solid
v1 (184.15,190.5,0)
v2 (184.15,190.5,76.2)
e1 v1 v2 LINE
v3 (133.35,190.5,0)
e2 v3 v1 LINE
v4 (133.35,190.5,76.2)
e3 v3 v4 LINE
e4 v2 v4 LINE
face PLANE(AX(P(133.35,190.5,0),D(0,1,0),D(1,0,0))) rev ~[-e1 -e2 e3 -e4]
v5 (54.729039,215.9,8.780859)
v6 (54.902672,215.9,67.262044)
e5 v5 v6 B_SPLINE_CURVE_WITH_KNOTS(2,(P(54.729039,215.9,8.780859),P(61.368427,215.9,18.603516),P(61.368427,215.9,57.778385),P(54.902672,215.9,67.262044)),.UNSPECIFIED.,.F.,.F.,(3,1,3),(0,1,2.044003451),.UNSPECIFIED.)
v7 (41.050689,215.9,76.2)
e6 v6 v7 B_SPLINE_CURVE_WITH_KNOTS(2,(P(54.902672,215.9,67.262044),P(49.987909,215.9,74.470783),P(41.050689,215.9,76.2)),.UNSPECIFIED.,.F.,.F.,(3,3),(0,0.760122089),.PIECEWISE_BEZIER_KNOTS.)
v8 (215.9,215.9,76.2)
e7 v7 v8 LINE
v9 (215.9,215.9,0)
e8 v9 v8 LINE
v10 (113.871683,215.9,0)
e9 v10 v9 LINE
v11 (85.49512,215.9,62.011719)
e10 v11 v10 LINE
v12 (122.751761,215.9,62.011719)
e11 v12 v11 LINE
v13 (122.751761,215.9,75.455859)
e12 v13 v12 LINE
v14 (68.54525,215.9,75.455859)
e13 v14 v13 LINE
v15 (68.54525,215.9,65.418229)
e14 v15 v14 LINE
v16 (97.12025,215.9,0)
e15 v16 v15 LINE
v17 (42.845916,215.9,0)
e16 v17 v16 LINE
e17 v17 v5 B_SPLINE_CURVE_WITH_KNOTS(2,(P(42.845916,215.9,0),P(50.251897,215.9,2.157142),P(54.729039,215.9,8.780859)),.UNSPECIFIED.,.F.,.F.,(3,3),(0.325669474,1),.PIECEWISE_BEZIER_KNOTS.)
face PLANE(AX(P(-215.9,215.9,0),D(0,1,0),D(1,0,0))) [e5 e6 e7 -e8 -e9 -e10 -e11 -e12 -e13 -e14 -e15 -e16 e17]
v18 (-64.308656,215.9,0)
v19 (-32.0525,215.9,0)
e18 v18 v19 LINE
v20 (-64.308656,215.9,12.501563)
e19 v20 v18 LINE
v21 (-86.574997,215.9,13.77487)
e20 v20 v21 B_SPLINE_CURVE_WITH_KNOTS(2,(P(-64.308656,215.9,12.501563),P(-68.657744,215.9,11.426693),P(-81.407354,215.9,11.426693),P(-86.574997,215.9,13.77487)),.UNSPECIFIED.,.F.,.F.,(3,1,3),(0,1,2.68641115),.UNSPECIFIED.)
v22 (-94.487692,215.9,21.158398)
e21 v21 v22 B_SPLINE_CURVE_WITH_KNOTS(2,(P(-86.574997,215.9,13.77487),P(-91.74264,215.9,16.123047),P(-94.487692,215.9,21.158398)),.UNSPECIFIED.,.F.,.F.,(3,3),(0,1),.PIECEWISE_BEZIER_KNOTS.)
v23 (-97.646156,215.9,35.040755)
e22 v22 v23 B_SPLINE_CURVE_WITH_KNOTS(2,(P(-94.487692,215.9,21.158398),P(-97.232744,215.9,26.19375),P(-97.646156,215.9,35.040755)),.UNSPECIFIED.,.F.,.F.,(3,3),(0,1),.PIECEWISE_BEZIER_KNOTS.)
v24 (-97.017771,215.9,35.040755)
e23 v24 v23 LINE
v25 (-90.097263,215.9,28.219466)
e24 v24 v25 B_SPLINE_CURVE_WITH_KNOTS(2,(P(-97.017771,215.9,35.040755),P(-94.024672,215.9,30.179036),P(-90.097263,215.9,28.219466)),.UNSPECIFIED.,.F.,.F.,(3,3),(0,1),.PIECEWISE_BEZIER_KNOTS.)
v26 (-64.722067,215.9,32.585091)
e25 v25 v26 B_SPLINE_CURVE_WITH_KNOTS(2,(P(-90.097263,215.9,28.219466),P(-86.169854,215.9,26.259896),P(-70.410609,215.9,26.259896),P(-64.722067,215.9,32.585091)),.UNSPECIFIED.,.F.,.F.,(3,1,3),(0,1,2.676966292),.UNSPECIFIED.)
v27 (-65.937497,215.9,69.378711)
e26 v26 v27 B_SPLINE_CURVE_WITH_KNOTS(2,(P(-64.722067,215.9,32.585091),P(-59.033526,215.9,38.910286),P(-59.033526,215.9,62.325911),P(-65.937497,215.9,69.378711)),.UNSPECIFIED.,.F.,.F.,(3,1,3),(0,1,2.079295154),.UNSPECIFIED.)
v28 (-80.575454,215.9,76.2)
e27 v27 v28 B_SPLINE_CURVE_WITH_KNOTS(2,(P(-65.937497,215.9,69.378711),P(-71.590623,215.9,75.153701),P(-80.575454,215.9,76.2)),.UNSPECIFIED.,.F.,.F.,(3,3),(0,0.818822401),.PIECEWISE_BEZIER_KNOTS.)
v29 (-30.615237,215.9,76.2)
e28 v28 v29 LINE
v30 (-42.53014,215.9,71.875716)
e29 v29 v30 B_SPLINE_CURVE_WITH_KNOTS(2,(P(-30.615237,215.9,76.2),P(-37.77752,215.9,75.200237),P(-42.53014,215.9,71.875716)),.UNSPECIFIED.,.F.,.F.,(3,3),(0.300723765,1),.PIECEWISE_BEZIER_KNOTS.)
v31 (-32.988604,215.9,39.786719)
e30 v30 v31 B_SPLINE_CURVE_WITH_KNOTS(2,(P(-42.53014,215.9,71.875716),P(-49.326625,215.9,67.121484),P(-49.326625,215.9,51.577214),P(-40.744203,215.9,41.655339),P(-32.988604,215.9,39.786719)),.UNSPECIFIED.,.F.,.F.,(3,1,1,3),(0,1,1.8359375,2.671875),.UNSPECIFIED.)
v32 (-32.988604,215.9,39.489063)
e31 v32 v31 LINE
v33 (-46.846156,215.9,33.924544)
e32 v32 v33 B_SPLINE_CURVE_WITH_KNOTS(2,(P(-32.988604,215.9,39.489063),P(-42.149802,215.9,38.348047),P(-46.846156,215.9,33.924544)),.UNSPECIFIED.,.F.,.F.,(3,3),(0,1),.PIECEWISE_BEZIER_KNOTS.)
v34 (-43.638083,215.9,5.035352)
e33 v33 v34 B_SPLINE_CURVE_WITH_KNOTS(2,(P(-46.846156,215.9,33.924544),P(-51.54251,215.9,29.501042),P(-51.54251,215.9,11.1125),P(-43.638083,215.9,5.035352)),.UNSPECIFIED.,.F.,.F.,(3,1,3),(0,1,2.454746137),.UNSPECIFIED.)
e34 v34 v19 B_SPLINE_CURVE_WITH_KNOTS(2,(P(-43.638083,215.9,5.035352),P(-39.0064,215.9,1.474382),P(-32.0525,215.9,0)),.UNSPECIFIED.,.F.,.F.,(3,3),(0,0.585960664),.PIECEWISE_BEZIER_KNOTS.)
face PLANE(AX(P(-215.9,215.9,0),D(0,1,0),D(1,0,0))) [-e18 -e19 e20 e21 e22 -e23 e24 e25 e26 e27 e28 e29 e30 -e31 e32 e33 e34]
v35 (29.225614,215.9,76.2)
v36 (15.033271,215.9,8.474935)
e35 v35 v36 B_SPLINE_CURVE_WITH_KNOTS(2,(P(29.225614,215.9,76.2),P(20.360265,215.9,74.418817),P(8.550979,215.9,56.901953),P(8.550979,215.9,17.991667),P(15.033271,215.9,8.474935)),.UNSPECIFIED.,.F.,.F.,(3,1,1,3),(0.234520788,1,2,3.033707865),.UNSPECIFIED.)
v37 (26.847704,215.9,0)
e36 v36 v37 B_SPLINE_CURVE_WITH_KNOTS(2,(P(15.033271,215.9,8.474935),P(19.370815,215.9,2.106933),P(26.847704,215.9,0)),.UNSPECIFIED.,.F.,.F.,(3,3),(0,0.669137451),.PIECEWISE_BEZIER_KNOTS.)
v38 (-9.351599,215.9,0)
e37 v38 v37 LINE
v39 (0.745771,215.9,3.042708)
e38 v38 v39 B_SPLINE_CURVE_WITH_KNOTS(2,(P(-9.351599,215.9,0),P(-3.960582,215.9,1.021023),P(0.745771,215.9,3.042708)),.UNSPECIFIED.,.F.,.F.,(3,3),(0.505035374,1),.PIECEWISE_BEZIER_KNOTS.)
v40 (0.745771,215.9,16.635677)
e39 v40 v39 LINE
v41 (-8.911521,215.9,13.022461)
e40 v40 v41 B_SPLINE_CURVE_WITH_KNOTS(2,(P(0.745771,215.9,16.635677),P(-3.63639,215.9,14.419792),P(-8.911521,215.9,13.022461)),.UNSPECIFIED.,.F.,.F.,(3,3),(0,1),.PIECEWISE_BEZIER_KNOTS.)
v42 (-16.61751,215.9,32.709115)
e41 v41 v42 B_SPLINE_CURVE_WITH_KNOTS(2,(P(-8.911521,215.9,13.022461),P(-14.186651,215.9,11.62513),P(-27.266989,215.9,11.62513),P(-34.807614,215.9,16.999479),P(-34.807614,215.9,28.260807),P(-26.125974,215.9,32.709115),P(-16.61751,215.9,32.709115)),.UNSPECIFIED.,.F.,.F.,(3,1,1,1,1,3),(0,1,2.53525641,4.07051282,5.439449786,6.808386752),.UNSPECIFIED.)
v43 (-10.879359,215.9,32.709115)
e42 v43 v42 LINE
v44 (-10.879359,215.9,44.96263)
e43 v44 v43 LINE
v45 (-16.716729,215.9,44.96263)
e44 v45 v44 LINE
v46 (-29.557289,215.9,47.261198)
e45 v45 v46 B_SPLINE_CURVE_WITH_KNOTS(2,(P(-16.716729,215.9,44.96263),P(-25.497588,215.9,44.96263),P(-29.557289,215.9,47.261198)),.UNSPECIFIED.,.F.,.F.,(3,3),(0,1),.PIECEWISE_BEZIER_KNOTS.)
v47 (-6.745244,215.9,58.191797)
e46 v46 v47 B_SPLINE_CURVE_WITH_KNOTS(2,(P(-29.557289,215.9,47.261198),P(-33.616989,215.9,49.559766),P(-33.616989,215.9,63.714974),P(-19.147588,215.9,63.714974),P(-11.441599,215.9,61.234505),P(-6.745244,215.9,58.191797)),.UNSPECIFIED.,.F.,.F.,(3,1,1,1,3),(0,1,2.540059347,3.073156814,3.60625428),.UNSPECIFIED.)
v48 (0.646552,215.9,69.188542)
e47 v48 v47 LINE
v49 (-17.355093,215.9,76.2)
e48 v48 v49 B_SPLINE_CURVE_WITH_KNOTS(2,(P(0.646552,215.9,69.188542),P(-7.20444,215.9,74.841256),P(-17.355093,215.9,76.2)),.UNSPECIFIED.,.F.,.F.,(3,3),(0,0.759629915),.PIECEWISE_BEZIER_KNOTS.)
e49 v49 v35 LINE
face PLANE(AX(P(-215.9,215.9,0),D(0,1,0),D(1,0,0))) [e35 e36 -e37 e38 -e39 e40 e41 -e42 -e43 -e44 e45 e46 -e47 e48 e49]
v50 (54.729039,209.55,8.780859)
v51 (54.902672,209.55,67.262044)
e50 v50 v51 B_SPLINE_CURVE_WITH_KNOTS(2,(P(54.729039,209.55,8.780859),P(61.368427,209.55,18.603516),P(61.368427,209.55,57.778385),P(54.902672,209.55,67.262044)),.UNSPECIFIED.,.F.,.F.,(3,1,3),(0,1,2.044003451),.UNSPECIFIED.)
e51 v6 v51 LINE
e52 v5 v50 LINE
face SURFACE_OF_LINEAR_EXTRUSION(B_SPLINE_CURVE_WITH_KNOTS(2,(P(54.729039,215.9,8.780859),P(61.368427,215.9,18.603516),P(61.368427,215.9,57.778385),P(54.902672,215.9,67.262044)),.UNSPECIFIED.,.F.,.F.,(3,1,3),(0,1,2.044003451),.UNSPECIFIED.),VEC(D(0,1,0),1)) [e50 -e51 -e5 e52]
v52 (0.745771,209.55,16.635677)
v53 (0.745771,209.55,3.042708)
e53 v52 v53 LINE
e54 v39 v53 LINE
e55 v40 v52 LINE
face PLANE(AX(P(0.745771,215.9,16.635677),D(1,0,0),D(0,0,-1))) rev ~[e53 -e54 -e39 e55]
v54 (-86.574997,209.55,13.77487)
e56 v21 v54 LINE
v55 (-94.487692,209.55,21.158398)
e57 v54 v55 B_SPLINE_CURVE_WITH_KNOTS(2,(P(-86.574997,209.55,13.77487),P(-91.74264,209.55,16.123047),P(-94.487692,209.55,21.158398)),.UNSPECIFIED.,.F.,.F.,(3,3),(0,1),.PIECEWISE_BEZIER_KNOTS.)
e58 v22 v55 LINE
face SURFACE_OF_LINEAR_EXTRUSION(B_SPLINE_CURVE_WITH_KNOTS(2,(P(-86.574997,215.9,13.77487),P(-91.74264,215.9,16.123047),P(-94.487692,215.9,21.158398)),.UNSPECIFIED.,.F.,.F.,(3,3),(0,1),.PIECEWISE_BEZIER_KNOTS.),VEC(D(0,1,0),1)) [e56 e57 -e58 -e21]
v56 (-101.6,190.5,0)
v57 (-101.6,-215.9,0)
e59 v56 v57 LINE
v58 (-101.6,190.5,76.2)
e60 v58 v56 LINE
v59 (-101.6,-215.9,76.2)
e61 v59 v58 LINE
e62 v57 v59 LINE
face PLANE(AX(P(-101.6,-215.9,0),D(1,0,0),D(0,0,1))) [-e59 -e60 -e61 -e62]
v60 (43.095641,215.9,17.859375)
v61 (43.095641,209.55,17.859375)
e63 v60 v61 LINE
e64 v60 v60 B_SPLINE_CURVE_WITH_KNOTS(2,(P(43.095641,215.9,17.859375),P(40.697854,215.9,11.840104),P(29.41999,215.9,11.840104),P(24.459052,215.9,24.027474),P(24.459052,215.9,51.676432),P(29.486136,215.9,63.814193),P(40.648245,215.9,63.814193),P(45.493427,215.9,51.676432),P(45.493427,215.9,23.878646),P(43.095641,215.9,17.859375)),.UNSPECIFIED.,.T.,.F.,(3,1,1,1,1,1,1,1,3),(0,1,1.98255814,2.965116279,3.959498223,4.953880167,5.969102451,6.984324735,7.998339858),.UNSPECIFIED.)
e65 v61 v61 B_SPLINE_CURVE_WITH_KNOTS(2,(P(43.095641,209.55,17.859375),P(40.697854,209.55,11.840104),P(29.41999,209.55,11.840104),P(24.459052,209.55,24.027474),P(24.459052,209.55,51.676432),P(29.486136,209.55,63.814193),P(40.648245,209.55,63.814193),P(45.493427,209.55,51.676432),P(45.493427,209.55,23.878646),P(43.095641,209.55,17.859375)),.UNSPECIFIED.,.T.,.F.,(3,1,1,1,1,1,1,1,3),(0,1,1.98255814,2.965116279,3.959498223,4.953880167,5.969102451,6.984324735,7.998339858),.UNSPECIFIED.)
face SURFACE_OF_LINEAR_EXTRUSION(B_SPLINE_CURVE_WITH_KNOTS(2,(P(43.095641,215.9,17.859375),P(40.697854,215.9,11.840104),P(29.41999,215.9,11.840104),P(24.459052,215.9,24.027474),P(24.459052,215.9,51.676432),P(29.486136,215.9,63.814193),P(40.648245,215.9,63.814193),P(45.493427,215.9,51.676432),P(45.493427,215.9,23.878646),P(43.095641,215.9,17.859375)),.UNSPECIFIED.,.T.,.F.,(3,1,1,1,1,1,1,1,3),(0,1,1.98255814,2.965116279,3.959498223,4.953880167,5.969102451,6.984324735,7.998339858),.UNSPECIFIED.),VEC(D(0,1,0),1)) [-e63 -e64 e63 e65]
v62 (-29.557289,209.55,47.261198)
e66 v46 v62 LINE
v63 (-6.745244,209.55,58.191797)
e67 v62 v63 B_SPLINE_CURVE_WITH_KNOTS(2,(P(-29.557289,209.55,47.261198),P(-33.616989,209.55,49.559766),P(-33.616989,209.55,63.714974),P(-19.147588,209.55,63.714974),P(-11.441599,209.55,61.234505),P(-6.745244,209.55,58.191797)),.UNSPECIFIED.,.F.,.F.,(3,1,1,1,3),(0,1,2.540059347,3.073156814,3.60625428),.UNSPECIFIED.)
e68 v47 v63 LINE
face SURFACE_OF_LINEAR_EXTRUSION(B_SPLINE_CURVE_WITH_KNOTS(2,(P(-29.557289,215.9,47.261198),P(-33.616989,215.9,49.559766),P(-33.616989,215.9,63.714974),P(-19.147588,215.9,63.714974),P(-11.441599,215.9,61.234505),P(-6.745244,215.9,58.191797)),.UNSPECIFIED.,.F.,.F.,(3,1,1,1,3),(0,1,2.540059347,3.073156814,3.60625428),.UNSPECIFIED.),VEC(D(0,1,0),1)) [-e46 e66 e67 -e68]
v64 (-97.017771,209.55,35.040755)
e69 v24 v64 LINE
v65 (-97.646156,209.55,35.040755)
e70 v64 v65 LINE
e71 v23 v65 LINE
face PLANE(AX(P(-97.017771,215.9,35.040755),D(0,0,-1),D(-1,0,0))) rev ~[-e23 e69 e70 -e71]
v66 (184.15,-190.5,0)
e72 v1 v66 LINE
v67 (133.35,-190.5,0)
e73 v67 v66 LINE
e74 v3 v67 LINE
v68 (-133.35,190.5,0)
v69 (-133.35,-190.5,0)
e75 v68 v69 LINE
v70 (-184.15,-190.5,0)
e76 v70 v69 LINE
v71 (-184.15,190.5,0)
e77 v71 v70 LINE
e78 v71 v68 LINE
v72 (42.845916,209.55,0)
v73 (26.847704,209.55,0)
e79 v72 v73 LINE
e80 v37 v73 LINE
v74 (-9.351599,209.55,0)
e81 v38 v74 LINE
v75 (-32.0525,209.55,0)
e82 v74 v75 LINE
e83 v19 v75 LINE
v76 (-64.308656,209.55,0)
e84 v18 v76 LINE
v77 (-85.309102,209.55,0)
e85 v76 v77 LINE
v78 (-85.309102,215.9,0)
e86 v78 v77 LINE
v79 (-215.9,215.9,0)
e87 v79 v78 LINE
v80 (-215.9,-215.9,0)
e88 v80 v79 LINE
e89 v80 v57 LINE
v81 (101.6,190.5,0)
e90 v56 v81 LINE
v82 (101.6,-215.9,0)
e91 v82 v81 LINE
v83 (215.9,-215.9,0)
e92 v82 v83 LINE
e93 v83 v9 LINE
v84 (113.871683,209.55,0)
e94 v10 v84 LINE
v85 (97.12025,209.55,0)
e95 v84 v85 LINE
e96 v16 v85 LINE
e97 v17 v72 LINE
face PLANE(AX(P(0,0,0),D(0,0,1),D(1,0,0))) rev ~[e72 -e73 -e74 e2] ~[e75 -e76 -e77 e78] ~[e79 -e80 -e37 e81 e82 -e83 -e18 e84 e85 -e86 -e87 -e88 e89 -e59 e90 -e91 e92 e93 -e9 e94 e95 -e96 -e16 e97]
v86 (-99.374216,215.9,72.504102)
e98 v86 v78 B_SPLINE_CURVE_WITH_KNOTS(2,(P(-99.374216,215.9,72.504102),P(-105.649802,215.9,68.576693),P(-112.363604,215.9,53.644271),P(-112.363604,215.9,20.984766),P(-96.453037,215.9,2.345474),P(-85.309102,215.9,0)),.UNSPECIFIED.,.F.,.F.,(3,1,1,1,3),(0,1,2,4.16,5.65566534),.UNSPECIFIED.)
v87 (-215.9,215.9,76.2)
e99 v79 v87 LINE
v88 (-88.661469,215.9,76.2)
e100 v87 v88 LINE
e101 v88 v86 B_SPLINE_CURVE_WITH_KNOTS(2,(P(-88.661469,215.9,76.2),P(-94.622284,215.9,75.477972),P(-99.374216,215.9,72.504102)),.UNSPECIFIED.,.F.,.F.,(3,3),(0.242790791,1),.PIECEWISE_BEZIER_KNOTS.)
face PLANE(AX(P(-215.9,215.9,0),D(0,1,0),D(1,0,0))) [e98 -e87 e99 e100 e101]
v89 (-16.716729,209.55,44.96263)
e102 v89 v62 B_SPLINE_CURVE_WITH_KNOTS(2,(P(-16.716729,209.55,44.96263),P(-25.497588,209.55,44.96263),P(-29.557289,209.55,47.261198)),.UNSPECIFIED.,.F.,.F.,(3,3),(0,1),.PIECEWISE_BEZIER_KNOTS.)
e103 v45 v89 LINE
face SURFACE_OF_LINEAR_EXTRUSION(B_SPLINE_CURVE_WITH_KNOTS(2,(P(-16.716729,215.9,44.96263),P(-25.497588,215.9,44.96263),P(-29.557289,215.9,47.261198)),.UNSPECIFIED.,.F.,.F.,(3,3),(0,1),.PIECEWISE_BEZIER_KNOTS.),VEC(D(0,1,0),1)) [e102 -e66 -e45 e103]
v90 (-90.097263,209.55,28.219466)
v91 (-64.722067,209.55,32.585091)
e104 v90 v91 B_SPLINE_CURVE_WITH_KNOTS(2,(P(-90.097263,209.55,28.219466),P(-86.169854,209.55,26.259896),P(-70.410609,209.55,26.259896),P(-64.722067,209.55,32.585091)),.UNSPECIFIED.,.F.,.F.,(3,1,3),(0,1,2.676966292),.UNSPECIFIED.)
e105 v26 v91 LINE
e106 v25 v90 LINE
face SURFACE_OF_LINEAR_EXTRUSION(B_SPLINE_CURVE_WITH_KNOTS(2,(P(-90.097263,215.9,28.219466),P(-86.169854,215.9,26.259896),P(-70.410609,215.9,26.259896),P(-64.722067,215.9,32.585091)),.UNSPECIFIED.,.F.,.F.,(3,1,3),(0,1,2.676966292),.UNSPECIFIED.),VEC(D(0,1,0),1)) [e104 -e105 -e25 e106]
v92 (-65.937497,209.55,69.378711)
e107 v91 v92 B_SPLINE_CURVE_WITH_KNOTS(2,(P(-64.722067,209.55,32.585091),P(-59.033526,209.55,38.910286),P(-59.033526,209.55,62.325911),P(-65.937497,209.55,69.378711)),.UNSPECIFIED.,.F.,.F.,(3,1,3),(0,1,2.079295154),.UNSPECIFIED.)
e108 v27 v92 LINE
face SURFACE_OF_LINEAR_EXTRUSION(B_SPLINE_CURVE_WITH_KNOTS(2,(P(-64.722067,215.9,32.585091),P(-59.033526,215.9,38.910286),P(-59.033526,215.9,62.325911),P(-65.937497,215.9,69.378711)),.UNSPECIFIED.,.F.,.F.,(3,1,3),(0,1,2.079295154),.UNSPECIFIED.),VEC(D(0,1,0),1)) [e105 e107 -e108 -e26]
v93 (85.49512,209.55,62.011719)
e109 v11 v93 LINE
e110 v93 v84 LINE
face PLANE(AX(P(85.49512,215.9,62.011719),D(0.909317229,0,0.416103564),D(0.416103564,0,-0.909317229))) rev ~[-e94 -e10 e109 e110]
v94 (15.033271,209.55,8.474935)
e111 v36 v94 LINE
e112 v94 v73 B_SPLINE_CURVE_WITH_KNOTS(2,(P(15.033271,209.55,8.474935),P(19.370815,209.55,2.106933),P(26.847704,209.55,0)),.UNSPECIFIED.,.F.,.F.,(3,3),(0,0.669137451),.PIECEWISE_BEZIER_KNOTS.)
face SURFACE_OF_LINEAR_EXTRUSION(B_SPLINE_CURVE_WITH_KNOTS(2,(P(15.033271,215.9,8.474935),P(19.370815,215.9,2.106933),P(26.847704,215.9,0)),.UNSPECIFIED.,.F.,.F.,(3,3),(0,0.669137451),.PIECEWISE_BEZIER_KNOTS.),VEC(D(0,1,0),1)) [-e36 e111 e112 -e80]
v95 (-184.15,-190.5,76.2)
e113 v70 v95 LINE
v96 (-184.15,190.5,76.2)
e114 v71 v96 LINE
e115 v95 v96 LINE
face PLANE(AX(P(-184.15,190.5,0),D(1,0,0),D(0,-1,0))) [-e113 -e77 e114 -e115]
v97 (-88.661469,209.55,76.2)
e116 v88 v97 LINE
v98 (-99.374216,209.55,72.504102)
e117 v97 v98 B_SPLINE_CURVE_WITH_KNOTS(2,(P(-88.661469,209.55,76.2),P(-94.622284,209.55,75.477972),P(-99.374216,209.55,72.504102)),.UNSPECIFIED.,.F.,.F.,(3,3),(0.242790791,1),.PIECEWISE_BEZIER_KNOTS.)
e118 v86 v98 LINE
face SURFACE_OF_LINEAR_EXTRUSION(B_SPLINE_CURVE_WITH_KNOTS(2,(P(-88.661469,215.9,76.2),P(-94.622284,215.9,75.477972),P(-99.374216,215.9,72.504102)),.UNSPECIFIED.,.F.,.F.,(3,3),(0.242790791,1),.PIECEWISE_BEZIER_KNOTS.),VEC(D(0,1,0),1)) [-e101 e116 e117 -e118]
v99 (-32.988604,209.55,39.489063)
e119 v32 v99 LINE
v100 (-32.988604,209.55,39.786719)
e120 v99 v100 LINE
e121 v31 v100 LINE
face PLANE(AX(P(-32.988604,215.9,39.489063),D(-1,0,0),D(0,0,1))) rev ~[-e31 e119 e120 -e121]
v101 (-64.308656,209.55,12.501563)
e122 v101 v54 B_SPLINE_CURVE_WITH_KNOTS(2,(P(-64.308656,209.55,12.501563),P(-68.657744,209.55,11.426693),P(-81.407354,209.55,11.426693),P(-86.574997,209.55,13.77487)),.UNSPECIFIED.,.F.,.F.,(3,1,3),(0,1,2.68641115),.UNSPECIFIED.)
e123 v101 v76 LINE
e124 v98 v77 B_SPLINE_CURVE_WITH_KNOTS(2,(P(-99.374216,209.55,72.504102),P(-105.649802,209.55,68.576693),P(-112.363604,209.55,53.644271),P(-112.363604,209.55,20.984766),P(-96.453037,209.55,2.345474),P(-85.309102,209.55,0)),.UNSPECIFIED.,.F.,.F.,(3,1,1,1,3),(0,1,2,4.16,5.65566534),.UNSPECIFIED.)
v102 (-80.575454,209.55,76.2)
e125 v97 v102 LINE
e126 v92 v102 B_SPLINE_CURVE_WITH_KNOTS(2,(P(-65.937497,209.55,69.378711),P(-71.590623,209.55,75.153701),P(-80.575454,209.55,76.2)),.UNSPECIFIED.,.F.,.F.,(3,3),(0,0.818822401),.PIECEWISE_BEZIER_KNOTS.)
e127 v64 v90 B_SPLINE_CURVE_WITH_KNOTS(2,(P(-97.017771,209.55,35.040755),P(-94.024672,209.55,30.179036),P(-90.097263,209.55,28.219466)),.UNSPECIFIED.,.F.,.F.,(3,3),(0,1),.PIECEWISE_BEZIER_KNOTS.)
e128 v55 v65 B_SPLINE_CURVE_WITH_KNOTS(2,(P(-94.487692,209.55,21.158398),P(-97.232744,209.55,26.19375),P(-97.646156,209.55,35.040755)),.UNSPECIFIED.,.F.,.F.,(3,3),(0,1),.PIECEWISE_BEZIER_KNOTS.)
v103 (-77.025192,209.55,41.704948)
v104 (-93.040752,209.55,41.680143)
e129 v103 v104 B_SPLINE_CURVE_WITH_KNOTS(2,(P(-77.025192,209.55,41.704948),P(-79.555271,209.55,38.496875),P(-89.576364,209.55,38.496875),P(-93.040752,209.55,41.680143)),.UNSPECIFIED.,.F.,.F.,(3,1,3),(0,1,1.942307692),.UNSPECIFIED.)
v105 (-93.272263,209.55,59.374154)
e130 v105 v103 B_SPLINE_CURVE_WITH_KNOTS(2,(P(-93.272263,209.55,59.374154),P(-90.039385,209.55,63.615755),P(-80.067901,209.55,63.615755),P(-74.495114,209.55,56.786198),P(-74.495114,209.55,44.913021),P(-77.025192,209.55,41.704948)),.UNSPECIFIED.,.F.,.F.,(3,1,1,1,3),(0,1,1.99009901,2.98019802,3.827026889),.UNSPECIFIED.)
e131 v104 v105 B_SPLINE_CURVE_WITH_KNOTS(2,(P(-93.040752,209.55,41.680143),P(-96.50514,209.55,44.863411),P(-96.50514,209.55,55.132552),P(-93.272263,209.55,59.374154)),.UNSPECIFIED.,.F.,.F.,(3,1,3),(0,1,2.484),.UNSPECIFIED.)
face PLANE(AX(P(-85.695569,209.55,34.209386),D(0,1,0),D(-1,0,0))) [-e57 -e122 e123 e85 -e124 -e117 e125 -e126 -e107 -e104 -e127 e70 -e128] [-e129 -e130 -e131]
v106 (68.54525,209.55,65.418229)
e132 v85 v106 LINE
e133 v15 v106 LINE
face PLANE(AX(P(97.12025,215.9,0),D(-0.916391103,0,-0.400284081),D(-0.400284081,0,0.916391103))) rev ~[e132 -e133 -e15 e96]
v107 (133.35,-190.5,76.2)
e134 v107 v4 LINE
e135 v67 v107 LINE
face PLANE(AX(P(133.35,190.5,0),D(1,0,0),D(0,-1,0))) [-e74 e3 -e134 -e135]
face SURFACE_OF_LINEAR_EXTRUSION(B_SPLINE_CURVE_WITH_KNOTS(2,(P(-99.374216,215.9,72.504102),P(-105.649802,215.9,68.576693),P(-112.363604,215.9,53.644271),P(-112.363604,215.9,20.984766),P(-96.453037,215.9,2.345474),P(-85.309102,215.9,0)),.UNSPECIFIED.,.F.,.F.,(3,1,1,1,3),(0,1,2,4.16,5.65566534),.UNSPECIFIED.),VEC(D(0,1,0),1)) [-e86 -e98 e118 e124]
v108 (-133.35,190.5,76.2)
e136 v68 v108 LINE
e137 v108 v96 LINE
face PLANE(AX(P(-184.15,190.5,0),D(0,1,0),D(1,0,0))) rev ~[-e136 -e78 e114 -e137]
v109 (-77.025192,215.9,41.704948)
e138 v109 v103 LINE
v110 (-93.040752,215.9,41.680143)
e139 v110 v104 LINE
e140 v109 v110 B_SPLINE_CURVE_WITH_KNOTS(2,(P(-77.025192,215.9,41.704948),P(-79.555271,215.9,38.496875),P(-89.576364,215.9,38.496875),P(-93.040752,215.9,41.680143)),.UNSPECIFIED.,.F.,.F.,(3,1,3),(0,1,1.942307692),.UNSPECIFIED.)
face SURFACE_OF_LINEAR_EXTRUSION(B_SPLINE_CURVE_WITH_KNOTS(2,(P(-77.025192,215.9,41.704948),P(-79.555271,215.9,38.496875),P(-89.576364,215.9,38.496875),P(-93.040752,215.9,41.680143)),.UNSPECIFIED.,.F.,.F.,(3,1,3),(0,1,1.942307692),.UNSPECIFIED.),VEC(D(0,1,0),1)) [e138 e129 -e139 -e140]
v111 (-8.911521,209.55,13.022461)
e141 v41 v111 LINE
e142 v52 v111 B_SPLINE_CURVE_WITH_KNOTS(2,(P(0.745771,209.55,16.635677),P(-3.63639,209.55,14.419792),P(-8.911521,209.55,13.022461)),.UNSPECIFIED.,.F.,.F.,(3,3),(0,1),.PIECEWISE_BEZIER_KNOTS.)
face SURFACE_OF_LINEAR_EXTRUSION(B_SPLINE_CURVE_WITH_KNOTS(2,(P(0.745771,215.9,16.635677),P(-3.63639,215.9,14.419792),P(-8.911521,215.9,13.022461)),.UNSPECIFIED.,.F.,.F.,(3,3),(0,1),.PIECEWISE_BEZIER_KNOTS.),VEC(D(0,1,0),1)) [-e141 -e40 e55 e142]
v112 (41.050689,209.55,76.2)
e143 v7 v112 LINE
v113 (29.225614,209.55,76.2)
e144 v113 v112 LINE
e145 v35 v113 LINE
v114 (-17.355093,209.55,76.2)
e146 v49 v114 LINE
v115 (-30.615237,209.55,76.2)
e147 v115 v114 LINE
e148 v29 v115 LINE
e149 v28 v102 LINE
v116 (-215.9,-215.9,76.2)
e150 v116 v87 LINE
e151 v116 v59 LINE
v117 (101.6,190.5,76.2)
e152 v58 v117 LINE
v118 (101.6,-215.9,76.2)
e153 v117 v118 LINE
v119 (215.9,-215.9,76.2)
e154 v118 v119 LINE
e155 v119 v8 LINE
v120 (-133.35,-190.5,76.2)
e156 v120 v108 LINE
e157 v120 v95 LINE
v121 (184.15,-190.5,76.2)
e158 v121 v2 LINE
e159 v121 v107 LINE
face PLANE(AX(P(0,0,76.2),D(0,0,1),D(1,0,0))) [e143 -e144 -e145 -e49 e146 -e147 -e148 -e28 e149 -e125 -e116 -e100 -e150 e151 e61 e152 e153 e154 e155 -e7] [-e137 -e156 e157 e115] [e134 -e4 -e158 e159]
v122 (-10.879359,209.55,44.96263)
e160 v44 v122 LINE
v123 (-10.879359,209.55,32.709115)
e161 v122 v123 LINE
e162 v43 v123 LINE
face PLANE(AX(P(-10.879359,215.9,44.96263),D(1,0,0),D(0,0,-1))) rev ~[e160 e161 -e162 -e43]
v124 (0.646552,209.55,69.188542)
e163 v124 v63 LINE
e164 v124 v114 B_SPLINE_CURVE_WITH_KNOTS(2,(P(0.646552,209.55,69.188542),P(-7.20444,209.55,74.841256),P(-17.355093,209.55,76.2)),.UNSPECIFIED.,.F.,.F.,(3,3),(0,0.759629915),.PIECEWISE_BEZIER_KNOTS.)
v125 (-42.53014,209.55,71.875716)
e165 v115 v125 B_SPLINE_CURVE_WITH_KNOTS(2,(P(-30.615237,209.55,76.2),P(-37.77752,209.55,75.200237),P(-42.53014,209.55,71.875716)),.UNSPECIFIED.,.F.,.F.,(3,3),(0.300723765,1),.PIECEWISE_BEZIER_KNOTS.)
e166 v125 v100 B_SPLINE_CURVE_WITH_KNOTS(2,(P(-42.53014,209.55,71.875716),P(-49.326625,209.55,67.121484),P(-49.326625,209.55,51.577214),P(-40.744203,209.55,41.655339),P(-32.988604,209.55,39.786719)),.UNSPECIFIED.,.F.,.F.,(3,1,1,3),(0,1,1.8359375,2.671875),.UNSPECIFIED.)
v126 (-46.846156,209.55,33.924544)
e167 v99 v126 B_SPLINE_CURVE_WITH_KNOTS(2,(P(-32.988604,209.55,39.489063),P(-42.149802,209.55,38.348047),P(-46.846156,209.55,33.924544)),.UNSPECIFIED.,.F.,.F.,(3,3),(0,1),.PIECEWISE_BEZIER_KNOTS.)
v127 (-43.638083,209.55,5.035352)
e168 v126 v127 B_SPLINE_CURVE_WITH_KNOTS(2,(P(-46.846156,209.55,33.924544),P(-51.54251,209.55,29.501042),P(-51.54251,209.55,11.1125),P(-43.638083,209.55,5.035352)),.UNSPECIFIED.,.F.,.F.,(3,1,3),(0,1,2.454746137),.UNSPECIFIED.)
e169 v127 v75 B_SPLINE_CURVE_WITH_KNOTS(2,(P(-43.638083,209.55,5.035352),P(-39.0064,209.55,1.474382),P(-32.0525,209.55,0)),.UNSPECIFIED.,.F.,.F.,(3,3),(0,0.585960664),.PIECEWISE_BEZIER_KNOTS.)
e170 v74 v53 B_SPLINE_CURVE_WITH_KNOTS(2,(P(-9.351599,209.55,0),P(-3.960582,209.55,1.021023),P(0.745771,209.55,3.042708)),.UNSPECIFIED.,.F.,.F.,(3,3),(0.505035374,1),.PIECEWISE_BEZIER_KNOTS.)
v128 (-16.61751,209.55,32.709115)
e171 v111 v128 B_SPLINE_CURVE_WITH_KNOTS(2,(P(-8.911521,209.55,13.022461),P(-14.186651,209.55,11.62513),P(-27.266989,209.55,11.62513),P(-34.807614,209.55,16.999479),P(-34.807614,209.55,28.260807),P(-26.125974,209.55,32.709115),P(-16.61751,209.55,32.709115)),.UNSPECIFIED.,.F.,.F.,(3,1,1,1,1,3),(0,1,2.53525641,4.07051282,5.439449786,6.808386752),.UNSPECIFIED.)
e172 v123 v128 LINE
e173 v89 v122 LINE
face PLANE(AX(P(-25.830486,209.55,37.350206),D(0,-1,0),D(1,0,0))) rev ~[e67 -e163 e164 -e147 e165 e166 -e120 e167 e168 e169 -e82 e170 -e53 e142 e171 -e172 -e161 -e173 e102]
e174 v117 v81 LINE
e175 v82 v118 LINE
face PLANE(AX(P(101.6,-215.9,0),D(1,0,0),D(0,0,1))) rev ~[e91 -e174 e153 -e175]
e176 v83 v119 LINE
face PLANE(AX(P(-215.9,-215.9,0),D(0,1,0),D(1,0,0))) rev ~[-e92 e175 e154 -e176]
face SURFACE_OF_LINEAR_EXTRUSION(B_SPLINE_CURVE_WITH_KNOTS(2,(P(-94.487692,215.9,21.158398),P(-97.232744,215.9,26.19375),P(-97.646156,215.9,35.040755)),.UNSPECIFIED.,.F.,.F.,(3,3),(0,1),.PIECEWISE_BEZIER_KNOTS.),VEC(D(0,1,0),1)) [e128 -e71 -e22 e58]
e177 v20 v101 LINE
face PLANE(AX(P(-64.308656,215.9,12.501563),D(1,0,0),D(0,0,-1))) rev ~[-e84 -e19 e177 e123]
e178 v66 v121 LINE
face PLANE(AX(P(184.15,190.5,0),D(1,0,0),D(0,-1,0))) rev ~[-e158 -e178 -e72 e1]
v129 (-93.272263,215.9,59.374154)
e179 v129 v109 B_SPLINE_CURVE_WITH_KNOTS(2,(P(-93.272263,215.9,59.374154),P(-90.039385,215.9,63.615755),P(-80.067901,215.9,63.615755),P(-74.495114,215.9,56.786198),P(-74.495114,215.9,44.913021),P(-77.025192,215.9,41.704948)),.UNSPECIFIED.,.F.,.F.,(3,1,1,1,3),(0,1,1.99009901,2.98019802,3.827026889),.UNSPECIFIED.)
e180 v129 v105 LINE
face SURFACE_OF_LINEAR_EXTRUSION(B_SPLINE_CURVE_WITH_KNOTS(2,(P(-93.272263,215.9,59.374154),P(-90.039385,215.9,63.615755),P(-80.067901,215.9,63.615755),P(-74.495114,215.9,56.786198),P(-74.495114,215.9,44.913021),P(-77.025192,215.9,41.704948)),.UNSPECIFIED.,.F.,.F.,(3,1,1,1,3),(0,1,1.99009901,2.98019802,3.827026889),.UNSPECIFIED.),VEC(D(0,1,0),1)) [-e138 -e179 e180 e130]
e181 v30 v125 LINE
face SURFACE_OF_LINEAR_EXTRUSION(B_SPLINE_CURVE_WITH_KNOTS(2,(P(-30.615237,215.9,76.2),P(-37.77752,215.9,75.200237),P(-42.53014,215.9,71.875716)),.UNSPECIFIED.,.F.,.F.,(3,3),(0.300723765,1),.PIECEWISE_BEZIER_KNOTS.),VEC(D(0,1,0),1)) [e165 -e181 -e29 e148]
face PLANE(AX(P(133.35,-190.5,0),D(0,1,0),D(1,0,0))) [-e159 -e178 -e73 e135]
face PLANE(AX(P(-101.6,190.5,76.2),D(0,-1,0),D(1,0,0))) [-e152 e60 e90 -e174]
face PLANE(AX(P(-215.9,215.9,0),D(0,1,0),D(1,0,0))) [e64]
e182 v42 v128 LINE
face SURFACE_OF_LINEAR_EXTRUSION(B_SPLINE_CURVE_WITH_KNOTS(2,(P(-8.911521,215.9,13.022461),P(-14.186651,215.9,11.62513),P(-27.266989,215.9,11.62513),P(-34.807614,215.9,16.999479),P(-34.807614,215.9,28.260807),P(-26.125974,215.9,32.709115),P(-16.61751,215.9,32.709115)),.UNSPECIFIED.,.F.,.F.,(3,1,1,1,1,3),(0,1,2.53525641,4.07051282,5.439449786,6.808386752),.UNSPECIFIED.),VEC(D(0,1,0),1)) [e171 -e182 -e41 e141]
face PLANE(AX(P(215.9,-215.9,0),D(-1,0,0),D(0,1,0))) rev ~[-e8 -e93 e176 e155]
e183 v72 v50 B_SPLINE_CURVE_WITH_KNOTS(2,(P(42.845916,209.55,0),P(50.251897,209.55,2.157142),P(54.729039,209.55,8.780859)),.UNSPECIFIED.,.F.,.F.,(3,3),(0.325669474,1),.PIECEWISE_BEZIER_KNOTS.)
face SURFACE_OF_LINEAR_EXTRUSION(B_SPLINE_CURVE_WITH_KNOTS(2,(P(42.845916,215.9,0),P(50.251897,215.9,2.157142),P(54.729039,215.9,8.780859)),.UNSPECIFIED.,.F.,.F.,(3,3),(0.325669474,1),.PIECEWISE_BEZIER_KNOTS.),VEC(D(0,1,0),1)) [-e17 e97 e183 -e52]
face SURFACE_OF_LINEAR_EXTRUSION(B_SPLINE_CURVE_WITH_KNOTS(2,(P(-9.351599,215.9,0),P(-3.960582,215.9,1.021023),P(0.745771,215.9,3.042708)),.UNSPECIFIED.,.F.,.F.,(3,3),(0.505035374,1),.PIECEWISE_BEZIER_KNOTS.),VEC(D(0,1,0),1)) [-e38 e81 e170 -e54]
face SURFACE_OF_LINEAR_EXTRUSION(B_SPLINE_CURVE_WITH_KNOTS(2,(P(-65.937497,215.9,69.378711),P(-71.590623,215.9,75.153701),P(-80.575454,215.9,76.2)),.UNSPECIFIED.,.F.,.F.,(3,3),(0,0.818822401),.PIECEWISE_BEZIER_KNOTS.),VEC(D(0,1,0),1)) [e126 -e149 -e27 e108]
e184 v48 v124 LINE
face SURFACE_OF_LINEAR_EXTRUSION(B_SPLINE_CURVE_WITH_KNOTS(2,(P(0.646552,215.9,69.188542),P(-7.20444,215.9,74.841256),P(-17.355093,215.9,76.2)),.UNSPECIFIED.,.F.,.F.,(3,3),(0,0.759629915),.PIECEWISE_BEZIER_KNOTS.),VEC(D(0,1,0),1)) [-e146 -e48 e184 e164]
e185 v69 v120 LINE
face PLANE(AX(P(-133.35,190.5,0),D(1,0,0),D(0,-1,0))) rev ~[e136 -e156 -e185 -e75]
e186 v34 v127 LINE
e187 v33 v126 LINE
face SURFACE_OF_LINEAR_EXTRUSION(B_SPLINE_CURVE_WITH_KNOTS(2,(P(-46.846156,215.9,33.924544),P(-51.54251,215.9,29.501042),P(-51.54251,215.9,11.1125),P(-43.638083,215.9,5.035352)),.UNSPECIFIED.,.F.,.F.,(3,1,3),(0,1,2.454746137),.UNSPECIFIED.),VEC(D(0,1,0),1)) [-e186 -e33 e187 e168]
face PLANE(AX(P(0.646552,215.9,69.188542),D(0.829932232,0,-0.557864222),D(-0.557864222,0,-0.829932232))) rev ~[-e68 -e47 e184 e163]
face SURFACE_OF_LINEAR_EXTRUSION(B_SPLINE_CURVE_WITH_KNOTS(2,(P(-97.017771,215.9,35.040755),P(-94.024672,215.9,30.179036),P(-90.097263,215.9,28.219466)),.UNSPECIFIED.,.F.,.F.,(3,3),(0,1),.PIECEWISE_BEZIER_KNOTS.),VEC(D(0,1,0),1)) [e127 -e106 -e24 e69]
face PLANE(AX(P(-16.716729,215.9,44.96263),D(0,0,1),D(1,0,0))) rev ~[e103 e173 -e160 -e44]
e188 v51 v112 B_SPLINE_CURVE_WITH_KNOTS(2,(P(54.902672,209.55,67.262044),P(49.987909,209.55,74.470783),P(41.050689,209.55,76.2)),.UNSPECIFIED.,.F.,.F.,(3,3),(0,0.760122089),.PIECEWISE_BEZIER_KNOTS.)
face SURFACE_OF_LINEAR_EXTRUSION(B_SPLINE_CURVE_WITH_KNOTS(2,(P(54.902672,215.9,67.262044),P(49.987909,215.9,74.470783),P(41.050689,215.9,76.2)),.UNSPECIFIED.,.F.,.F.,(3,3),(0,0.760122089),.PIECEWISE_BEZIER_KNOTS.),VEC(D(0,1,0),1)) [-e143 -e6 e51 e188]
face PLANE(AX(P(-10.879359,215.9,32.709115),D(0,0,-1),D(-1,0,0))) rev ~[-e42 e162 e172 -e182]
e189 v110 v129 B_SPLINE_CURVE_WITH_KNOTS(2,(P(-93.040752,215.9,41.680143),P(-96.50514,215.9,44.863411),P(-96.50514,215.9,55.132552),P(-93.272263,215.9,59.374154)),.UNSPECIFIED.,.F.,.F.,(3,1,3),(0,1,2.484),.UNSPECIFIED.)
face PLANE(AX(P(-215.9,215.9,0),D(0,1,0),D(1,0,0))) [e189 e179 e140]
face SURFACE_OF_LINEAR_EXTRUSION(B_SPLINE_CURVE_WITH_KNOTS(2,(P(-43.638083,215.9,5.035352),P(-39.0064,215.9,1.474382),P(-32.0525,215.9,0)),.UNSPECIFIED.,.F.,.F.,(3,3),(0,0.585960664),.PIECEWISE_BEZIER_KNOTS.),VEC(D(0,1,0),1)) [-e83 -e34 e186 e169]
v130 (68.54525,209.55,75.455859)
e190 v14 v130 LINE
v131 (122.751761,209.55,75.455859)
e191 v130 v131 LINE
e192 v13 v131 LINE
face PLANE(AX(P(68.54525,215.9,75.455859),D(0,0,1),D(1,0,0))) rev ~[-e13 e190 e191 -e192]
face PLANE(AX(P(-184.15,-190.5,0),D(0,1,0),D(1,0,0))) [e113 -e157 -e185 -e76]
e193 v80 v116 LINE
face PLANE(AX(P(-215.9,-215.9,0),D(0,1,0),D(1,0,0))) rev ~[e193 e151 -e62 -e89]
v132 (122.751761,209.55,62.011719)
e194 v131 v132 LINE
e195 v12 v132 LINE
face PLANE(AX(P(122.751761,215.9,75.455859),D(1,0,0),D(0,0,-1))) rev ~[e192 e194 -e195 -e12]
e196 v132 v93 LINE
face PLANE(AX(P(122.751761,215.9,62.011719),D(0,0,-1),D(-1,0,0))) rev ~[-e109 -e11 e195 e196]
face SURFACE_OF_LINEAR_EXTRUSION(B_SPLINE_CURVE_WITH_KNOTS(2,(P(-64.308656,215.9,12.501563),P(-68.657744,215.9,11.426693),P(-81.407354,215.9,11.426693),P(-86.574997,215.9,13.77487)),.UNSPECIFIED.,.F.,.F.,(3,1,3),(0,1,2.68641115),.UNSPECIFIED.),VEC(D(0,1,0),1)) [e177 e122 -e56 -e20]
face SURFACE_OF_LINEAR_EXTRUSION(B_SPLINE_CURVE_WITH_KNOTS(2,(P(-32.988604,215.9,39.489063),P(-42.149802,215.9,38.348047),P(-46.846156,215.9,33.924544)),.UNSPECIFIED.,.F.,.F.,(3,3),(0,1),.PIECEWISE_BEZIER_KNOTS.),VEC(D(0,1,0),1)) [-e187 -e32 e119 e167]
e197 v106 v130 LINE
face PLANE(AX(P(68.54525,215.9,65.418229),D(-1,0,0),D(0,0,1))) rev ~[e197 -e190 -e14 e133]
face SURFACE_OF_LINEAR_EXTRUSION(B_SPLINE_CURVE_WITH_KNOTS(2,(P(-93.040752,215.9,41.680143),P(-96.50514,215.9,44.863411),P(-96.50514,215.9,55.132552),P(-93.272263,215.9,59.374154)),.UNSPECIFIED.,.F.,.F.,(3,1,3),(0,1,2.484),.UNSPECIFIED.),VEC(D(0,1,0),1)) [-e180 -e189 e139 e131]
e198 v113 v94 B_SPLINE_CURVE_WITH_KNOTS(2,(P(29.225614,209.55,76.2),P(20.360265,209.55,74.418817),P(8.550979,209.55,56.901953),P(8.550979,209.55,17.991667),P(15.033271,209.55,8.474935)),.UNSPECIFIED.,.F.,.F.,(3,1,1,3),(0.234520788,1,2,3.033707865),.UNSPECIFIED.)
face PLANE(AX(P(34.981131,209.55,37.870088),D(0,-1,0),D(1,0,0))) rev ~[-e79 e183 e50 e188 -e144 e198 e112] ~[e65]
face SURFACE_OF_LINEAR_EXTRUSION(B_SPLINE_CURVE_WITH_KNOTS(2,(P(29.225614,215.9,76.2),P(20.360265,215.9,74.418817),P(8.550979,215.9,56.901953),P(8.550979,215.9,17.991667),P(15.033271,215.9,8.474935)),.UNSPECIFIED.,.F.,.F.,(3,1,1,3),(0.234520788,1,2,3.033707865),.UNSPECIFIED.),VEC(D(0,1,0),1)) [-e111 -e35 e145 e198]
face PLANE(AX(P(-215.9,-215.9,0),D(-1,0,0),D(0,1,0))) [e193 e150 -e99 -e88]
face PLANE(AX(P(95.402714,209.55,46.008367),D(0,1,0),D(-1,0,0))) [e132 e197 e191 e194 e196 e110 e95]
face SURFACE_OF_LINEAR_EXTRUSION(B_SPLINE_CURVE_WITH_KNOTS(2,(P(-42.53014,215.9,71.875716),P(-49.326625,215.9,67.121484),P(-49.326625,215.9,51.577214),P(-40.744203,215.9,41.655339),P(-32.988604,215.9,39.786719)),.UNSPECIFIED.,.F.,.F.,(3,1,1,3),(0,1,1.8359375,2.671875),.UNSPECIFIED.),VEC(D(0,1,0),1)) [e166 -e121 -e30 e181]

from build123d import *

# Parameters (mm, degrees)
F0_W     = 431.8
F0_H     = 431.8
F1_DEPTH = 76.2
F2_W     = 203.2
F2_H     = 76.2
F3_DEPTH = 355.6
F4_W     = 50.8
F4_H     = 381
F5_DEPTH = 76.201
F7_DEPTH = 6.35
F8_W     = 203.2
F8_H     = 50.8
F9_DEPTH = 76.2010001


with BuildPart() as f1:
    # F0 (on Top) → F1 (new body)
    with BuildSketch(Plane.XY):
        Rectangle(F0_W, F0_H)
    extrude(amount=F1_DEPTH)

    # F2 (on face) → F3 (cut)
    with BuildSketch(Plane.XZ.offset(215.9)):
        with Locations((0, 38.1)):
            Rectangle(F2_W, F2_H)
    extrude(amount=-F3_DEPTH, mode=Mode.SUBTRACT)

    # F4 (on face) → F5 (cut, through all)
    with BuildSketch(Plane(origin=(0, 0, 0), x_dir=(1, 0, 0), z_dir=(0, 0, -1))):
        with Locations((158.75, 0)):
            Rectangle(F4_W, F4_H)
        with Locations((-158.75, 0)):
            Rectangle(F4_W, F4_H)
    extrude(amount=-F5_DEPTH, mode=Mode.SUBTRACT)

    # F6 (on face) → F7 (cut)
    with BuildSketch(Plane(origin=(0, 215.9, 0), x_dir=(-1, 0, 0), z_dir=(0, 1, 0))):
        with BuildLine():
            Line((64.3086559534, 12.5015625), (64.3086559534, 0))
            Line((64.3086559534, 0), (85.3091018042, 0))
            add(Edge.make_bspline(
                [(102.9626273076, 9.971484375), (96.4530371195, 2.3454737061), (85.3091018042, 0)],
                knots=[0, 0, 0, 0.6924376574, 0.6924376574, 0.6924376574], degree=2))
            add(Edge.make_bspline(
                [(112.3636038701, 43.308984375), (112.3636038701, 20.984765625), (102.9626273076, 9.971484375)],
                knots=[0, 0, 0, 1, 1, 1], degree=2))
            add(Edge.make_bspline(
                [(109.0067028284, 61.1104817708), (112.3636038701, 53.6442708333), (112.3636038701, 43.308984375)],
                knots=[0, 0, 0, 1, 1, 1], degree=2))
            add(Edge.make_bspline(
                [(99.3742158492, 72.5041015625), (105.6498017867, 68.5766927083), (109.0067028284, 61.1104817708)],
                knots=[0, 0, 0, 1, 1, 1], degree=2))
            add(Edge.make_bspline(
                [(88.6614694014, 76.2), (94.6222843884, 75.4779717125), (99.3742158492, 72.5041015625)],
                knots=[0.2427907915, 0.2427907915, 0.2427907915, 1, 1, 1], degree=2))
            Line((88.6614694014, 76.2), (80.5754538831, 76.2))
            add(Edge.make_bspline(
                [(65.9374970992, 69.3787109375), (71.5906234997, 75.1537011406), (80.5754538831, 76.2)],
                knots=[0, 0, 0, 0.818822401, 0.818822401, 0.818822401], degree=2))
            add(Edge.make_bspline(
                [(59.0335257451, 50.1716145833), (59.0335257451, 62.3259114583), (65.9374970992, 69.3787109375)],
                knots=[0, 0, 0, 1, 1, 1], degree=2))
            add(Edge.make_bspline(
                [(64.7220674117, 32.5850911458), (59.0335257451, 38.9102864583), (59.0335257451, 50.1716145833)],
                knots=[0, 0, 0, 1, 1, 1], degree=2))
            add(Edge.make_bspline(
                [(80.2828747034, 26.2598958333), (70.4106090784, 26.2598958333), (64.7220674117, 32.5850911458)],
                knots=[0, 0, 0, 1, 1, 1], degree=2))
            add(Edge.make_bspline(
                [(90.0972627242, 28.2194661458), (86.1698538701, 26.2598958333), (80.2828747034, 26.2598958333)],
                knots=[0, 0, 0, 1, 1, 1], degree=2))
            add(Edge.make_bspline(
                [(97.0177705367, 35.0407552083), (94.0246715784, 30.1790364583), (90.0972627242, 28.2194661458)],
                knots=[0, 0, 0, 1, 1, 1], degree=2))
            Line((97.0177705367, 35.0407552083), (97.6461559534, 35.0407552083))
            add(Edge.make_bspline(
                [(94.4876924117, 21.1583984375), (97.2327444951, 26.19375), (97.6461559534, 35.0407552083)],
                knots=[0, 0, 0, 1, 1, 1], degree=2))
            add(Edge.make_bspline(
                [(86.5749970992, 13.7748697917), (91.7426403284, 16.123046875), (94.4876924117, 21.1583984375)],
                knots=[0, 0, 0, 1, 1, 1], degree=2))
            add(Edge.make_bspline(
                [(73.4037080367, 11.4266927083), (81.4073538701, 11.4266927083), (86.5749970992, 13.7748697917)],
                knots=[0, 0, 0, 1, 1, 1], degree=2))
            add(Edge.make_bspline(
                [(64.3086559534, 12.5015625), (68.6577444951, 11.4266927083), (73.4037080367, 11.4266927083)],
                knots=[0, 0, 0, 1, 1, 1], degree=2))
        make_face()
        with BuildLine():
            add(Edge.make_bspline(
                [(85.0288382451, 63.6157552083), (80.0679007451, 63.6157552083), (77.2815075159, 60.2009765625)],
                knots=[0, 0, 0, 1, 1, 1], degree=2))
            add(Edge.make_bspline(
                [(93.2722627242, 59.3741536458), (90.0393851201, 63.6157552083), (85.0288382451, 63.6157552083)],
                knots=[0, 0, 0, 1, 1, 1], degree=2))
            add(Edge.make_bspline(
                [(96.5051403284, 48.9975260417), (96.5051403284, 55.1325520833), (93.2722627242, 59.3741536458)],
                knots=[0, 0, 0, 1, 1, 1], degree=2))
            add(Edge.make_bspline(
                [(93.0407523076, 41.6801432292), (96.5051403284, 44.8634114583), (96.5051403284, 48.9975260417)],
                knots=[0, 0, 0, 1, 1, 1], degree=2))
            add(Edge.make_bspline(
                [(84.7146455367, 38.496875), (89.5763642867, 38.496875), (93.0407523076, 41.6801432292)],
                knots=[0, 0, 0, 1, 1, 1], degree=2))
            add(Edge.make_bspline(
                [(77.0251924117, 41.7049479167), (79.5552705367, 38.496875), (84.7146455367, 38.496875)],
                knots=[0, 0, 0, 1, 1, 1], degree=2))
            add(Edge.make_bspline(
                [(74.4951142867, 50.3865885417), (74.4951142867, 44.9130208333), (77.0251924117, 41.7049479167)],
                knots=[0, 0, 0, 1, 1, 1], degree=2))
            add(Edge.make_bspline(
                [(77.2815075159, 60.2009765625), (74.4951142867, 56.7861979167), (74.4951142867, 50.3865885417)],
                knots=[0, 0, 0, 1, 1, 1], degree=2))
        make_face(mode=Mode.SUBTRACT)
        with BuildLine():
            add(Edge.make_bspline(
                [(-42.8459156165, 0), (-50.2518973403, 2.1571424157), (-54.7290393591, 8.780859375)],
                knots=[0.3256694736, 0.3256694736, 0.3256694736, 1, 1, 1], degree=2))
            Line((-42.8459156165, 0), (-26.8477042928, 0))
            add(Edge.make_bspline(
                [(-15.0332711299, 8.4749348958), (-19.370815255, 2.106933253), (-26.8477042928, 0)],
                knots=[0, 0, 0, 0.6691374514, 0.6691374514, 0.6691374514], degree=2))
            add(Edge.make_bspline(
                [(-8.5509794633, 37.7692708333), (-8.5509794633, 17.9916666667), (-15.0332711299, 8.4749348958)],
                knots=[0, 0, 0, 1, 1, 1], degree=2))
            add(Edge.make_bspline(
                [(-15.2399768591, 66.823828125), (-8.5509794633, 56.901953125), (-8.5509794633, 37.7692708333)],
                knots=[0, 0, 0, 1, 1, 1], degree=2))
            add(Edge.make_bspline(
                [(-29.2256139556, 76.2), (-20.3602653148, 74.4188171817), (-15.2399768591, 66.823828125)],
                knots=[0.234520788, 0.234520788, 0.234520788, 1, 1, 1], degree=2))
            Line((-29.2256139556, 76.2), (-41.0506894601, 76.2))
            add(Edge.make_bspline(
                [(-54.9026721716, 67.2620442708), (-49.9879088183, 74.4707828466), (-41.0506894601, 76.2)],
                knots=[0, 0, 0, 0.7601220886, 0.7601220886, 0.7601220886], degree=2))
            add(Edge.make_bspline(
                [(-61.3684273799, 37.7692708333), (-61.3684273799, 57.7783854167), (-54.9026721716, 67.2620442708)],
                knots=[0, 0, 0, 1, 1, 1], degree=2))
            add(Edge.make_bspline(
                [(-54.7290393591, 8.780859375), (-61.3684273799, 18.603515625), (-61.3684273799, 37.7692708333)],
                knots=[0, 0, 0, 1, 1, 1], degree=2))
        make_face()
        with BuildLine():
            add(Edge.make_bspline(
                [(-45.4934273799, 37.7692708333), (-45.4934273799, 23.8786458333), (-43.0956409216, 17.859375)],
                knots=[0, 0, 0, 1, 1, 1], degree=2))
            add(Edge.make_bspline(
                [(-43.0708362341, 57.7453125), (-45.4934273799, 51.6764322917), (-45.4934273799, 37.7692708333)],
                knots=[0, 0, 0, 1, 1, 1], degree=2))
            add(Edge.make_bspline(
                [(-35.0093127966, 63.8141927083), (-40.6482450883, 63.8141927083), (-43.0708362341, 57.7453125)],
                knots=[0, 0, 0, 1, 1, 1], degree=2))
            add(Edge.make_bspline(
                [(-26.9725940466, 57.7453125), (-29.4861357133, 63.8141927083), (-35.0093127966, 63.8141927083)],
                knots=[0, 0, 0, 1, 1, 1], degree=2))
            add(Edge.make_bspline(
                [(-24.4590523799, 37.7692708333), (-24.4590523799, 51.6764322917), (-26.9725940466, 57.7453125)],
                knots=[0, 0, 0, 1, 1, 1], degree=2))
            add(Edge.make_bspline(
                [(-26.9395211299, 17.9337890625), (-24.4590523799, 24.0274739583), (-24.4590523799, 37.7692708333)],
                knots=[0, 0, 0, 1, 1, 1], degree=2))
            add(Edge.make_bspline(
                [(-35.0093127966, 11.8401041667), (-29.4199898799, 11.8401041667), (-26.9395211299, 17.9337890625)],
                knots=[0, 0, 0, 1, 1, 1], degree=2))
            add(Edge.make_bspline(
                [(-43.0956409216, 17.859375), (-40.6978544633, 11.8401041667), (-35.0093127966, 11.8401041667)],
                knots=[0, 0, 0, 1, 1, 1], degree=2))
        make_face(mode=Mode.SUBTRACT)
        Polygon((-85.4951200883, 62.01171875), (-113.8716825883, 0), (-97.1202502966, 0), (-68.5452502966, 65.4182291667), (-68.5452502966, 75.455859375), (-122.7517607133, 75.455859375), (-122.7517607133, 62.01171875), align=None)
        with BuildLine():
            add(Edge.make_bspline(
                [(9.3515991344, 0), (3.9605819731, 1.0210227395), (-0.7457711299, 3.0427083333)],
                knots=[0.5050353738, 0.5050353738, 0.5050353738, 1, 1, 1], degree=2))
            Line((9.3515991344, 0), (32.0524996966, 0))
            add(Edge.make_bspline(
                [(43.6380830367, 5.0353515625), (39.0063996913, 1.4743816264), (32.0524996966, 0)],
                knots=[0, 0, 0, 0.5859606644, 0.5859606644, 0.5859606644], degree=2))
            add(Edge.make_bspline(
                [(51.5425101201, 22.0100260417), (51.5425101201, 11.1125), (43.6380830367, 5.0353515625)],
                knots=[0, 0, 0, 1, 1, 1], degree=2))
            add(Edge.make_bspline(
                [(46.8461559534, 33.9245442708), (51.5425101201, 29.5010416667), (51.5425101201, 22.0100260417)],
                knots=[0, 0, 0, 1, 1, 1], degree=2))
            add(Edge.make_bspline(
                [(32.9886038701, 39.4890625), (42.1498017867, 38.348046875), (46.8461559534, 33.9245442708)],
                knots=[0, 0, 0, 1, 1, 1], degree=2))
            Line((32.9886038701, 39.4890625), (32.9886038701, 39.78671875))
            add(Edge.make_bspline(
                [(45.0354137659, 46.6162760417), (40.7442028284, 41.6553385417), (32.9886038701, 39.78671875)],
                knots=[0, 0, 0, 1, 1, 1], degree=2))
            add(Edge.make_bspline(
                [(49.3266247034, 58.6548177083), (49.3266247034, 51.5772135417), (45.0354137659, 46.6162760417)],
                knots=[0, 0, 0, 1, 1, 1], degree=2))
            add(Edge.make_bspline(
                [(42.5301403284, 71.8757161458), (49.3266247034, 67.121484375), (49.3266247034, 58.6548177083)],
                knots=[0, 0, 0, 1, 1, 1], degree=2))
            add(Edge.make_bspline(
                [(30.6152373457, 76.2), (37.7775203209, 75.2002374407), (42.5301403284, 71.8757161458)],
                knots=[0.3007237646, 0.3007237646, 0.3007237646, 1, 1, 1], degree=2))
            Line((30.6152373457, 76.2), (17.3550933311, 76.2))
            add(Edge.make_bspline(
                [(-0.6465523799, 69.1885416667), (7.2044403936, 74.8412564636), (17.3550933311, 76.2)],
                knots=[0, 0, 0, 0.759629915, 0.759629915, 0.759629915], degree=2))
            Line((-0.6465523799, 69.1885416667), (6.7452444951, 58.191796875))
            add(Edge.make_bspline(
                [(15.2945934534, 62.4747395833), (11.4415986617, 61.2345052083), (6.7452444951, 58.191796875)],
                knots=[0, 0, 0, 1, 1, 1], degree=2))
            add(Edge.make_bspline(
                [(22.8682913701, 63.7149739583), (19.1475882451, 63.7149739583), (15.2945934534, 62.4747395833)],
                knots=[0, 0, 0, 1, 1, 1], degree=2))
            add(Edge.make_bspline(
                [(33.6169892867, 55.1325520833), (33.6169892867, 63.7149739583), (22.8682913701, 63.7149739583)],
                knots=[0, 0, 0, 1, 1, 1], degree=2))
            add(Edge.make_bspline(
                [(29.5572887659, 47.2611979167), (33.6169892867, 49.559765625), (33.6169892867, 55.1325520833)],
                knots=[0, 0, 0, 1, 1, 1], degree=2))
            add(Edge.make_bspline(
                [(16.7167288701, 44.9626302083), (25.4975882451, 44.9626302083), (29.5572887659, 47.2611979167)],
                knots=[0, 0, 0, 1, 1, 1], degree=2))
            Line((16.7167288701, 44.9626302083), (10.8793590784, 44.9626302083))
            Line((10.8793590784, 44.9626302083), (10.8793590784, 32.7091145833))
            Line((10.8793590784, 32.7091145833), (16.6175101201, 32.7091145833))
            add(Edge.make_bspline(
                [(30.4667939742, 30.4849609375), (26.1259736617, 32.7091145833), (16.6175101201, 32.7091145833)],
                knots=[0, 0, 0, 1, 1, 1], degree=2))
            add(Edge.make_bspline(
                [(34.8076142867, 22.9526041667), (34.8076142867, 28.2608072917), (30.4667939742, 30.4849609375)],
                knots=[0, 0, 0, 1, 1, 1], degree=2))
            add(Edge.make_bspline(
                [(31.0373017867, 14.3123046875), (34.8076142867, 16.9994791667), (34.8076142867, 22.9526041667)],
                knots=[0, 0, 0, 1, 1, 1], degree=2))
            add(Edge.make_bspline(
                [(19.3460257451, 11.6251302083), (27.2669892867, 11.6251302083), (31.0373017867, 14.3123046875)],
                knots=[0, 0, 0, 1, 1, 1], degree=2))
            add(Edge.make_bspline(
                [(8.9115205367, 13.0224609375), (14.1866507451, 11.6251302083), (19.3460257451, 11.6251302083)],
                knots=[0, 0, 0, 1, 1, 1], degree=2))
            add(Edge.make_bspline(
                [(-0.7457711299, 16.6356770833), (3.6363903284, 14.4197916667), (8.9115205367, 13.0224609375)],
                knots=[0, 0, 0, 1, 1, 1], degree=2))
            Line((-0.7457711299, 16.6356770833), (-0.7457711299, 3.0427083333))
        make_face()
    extrude(amount=-F7_DEPTH, mode=Mode.SUBTRACT)

    # F8 (on face) → F9 (cut, through all)
    with BuildSketch(Plane.XY.offset(76.2)):
        with Locations((0, 165.1)):
            Rectangle(F8_W, F8_H)
    extrude(amount=-F9_DEPTH, mode=Mode.SUBTRACT)


solid = f1.part
